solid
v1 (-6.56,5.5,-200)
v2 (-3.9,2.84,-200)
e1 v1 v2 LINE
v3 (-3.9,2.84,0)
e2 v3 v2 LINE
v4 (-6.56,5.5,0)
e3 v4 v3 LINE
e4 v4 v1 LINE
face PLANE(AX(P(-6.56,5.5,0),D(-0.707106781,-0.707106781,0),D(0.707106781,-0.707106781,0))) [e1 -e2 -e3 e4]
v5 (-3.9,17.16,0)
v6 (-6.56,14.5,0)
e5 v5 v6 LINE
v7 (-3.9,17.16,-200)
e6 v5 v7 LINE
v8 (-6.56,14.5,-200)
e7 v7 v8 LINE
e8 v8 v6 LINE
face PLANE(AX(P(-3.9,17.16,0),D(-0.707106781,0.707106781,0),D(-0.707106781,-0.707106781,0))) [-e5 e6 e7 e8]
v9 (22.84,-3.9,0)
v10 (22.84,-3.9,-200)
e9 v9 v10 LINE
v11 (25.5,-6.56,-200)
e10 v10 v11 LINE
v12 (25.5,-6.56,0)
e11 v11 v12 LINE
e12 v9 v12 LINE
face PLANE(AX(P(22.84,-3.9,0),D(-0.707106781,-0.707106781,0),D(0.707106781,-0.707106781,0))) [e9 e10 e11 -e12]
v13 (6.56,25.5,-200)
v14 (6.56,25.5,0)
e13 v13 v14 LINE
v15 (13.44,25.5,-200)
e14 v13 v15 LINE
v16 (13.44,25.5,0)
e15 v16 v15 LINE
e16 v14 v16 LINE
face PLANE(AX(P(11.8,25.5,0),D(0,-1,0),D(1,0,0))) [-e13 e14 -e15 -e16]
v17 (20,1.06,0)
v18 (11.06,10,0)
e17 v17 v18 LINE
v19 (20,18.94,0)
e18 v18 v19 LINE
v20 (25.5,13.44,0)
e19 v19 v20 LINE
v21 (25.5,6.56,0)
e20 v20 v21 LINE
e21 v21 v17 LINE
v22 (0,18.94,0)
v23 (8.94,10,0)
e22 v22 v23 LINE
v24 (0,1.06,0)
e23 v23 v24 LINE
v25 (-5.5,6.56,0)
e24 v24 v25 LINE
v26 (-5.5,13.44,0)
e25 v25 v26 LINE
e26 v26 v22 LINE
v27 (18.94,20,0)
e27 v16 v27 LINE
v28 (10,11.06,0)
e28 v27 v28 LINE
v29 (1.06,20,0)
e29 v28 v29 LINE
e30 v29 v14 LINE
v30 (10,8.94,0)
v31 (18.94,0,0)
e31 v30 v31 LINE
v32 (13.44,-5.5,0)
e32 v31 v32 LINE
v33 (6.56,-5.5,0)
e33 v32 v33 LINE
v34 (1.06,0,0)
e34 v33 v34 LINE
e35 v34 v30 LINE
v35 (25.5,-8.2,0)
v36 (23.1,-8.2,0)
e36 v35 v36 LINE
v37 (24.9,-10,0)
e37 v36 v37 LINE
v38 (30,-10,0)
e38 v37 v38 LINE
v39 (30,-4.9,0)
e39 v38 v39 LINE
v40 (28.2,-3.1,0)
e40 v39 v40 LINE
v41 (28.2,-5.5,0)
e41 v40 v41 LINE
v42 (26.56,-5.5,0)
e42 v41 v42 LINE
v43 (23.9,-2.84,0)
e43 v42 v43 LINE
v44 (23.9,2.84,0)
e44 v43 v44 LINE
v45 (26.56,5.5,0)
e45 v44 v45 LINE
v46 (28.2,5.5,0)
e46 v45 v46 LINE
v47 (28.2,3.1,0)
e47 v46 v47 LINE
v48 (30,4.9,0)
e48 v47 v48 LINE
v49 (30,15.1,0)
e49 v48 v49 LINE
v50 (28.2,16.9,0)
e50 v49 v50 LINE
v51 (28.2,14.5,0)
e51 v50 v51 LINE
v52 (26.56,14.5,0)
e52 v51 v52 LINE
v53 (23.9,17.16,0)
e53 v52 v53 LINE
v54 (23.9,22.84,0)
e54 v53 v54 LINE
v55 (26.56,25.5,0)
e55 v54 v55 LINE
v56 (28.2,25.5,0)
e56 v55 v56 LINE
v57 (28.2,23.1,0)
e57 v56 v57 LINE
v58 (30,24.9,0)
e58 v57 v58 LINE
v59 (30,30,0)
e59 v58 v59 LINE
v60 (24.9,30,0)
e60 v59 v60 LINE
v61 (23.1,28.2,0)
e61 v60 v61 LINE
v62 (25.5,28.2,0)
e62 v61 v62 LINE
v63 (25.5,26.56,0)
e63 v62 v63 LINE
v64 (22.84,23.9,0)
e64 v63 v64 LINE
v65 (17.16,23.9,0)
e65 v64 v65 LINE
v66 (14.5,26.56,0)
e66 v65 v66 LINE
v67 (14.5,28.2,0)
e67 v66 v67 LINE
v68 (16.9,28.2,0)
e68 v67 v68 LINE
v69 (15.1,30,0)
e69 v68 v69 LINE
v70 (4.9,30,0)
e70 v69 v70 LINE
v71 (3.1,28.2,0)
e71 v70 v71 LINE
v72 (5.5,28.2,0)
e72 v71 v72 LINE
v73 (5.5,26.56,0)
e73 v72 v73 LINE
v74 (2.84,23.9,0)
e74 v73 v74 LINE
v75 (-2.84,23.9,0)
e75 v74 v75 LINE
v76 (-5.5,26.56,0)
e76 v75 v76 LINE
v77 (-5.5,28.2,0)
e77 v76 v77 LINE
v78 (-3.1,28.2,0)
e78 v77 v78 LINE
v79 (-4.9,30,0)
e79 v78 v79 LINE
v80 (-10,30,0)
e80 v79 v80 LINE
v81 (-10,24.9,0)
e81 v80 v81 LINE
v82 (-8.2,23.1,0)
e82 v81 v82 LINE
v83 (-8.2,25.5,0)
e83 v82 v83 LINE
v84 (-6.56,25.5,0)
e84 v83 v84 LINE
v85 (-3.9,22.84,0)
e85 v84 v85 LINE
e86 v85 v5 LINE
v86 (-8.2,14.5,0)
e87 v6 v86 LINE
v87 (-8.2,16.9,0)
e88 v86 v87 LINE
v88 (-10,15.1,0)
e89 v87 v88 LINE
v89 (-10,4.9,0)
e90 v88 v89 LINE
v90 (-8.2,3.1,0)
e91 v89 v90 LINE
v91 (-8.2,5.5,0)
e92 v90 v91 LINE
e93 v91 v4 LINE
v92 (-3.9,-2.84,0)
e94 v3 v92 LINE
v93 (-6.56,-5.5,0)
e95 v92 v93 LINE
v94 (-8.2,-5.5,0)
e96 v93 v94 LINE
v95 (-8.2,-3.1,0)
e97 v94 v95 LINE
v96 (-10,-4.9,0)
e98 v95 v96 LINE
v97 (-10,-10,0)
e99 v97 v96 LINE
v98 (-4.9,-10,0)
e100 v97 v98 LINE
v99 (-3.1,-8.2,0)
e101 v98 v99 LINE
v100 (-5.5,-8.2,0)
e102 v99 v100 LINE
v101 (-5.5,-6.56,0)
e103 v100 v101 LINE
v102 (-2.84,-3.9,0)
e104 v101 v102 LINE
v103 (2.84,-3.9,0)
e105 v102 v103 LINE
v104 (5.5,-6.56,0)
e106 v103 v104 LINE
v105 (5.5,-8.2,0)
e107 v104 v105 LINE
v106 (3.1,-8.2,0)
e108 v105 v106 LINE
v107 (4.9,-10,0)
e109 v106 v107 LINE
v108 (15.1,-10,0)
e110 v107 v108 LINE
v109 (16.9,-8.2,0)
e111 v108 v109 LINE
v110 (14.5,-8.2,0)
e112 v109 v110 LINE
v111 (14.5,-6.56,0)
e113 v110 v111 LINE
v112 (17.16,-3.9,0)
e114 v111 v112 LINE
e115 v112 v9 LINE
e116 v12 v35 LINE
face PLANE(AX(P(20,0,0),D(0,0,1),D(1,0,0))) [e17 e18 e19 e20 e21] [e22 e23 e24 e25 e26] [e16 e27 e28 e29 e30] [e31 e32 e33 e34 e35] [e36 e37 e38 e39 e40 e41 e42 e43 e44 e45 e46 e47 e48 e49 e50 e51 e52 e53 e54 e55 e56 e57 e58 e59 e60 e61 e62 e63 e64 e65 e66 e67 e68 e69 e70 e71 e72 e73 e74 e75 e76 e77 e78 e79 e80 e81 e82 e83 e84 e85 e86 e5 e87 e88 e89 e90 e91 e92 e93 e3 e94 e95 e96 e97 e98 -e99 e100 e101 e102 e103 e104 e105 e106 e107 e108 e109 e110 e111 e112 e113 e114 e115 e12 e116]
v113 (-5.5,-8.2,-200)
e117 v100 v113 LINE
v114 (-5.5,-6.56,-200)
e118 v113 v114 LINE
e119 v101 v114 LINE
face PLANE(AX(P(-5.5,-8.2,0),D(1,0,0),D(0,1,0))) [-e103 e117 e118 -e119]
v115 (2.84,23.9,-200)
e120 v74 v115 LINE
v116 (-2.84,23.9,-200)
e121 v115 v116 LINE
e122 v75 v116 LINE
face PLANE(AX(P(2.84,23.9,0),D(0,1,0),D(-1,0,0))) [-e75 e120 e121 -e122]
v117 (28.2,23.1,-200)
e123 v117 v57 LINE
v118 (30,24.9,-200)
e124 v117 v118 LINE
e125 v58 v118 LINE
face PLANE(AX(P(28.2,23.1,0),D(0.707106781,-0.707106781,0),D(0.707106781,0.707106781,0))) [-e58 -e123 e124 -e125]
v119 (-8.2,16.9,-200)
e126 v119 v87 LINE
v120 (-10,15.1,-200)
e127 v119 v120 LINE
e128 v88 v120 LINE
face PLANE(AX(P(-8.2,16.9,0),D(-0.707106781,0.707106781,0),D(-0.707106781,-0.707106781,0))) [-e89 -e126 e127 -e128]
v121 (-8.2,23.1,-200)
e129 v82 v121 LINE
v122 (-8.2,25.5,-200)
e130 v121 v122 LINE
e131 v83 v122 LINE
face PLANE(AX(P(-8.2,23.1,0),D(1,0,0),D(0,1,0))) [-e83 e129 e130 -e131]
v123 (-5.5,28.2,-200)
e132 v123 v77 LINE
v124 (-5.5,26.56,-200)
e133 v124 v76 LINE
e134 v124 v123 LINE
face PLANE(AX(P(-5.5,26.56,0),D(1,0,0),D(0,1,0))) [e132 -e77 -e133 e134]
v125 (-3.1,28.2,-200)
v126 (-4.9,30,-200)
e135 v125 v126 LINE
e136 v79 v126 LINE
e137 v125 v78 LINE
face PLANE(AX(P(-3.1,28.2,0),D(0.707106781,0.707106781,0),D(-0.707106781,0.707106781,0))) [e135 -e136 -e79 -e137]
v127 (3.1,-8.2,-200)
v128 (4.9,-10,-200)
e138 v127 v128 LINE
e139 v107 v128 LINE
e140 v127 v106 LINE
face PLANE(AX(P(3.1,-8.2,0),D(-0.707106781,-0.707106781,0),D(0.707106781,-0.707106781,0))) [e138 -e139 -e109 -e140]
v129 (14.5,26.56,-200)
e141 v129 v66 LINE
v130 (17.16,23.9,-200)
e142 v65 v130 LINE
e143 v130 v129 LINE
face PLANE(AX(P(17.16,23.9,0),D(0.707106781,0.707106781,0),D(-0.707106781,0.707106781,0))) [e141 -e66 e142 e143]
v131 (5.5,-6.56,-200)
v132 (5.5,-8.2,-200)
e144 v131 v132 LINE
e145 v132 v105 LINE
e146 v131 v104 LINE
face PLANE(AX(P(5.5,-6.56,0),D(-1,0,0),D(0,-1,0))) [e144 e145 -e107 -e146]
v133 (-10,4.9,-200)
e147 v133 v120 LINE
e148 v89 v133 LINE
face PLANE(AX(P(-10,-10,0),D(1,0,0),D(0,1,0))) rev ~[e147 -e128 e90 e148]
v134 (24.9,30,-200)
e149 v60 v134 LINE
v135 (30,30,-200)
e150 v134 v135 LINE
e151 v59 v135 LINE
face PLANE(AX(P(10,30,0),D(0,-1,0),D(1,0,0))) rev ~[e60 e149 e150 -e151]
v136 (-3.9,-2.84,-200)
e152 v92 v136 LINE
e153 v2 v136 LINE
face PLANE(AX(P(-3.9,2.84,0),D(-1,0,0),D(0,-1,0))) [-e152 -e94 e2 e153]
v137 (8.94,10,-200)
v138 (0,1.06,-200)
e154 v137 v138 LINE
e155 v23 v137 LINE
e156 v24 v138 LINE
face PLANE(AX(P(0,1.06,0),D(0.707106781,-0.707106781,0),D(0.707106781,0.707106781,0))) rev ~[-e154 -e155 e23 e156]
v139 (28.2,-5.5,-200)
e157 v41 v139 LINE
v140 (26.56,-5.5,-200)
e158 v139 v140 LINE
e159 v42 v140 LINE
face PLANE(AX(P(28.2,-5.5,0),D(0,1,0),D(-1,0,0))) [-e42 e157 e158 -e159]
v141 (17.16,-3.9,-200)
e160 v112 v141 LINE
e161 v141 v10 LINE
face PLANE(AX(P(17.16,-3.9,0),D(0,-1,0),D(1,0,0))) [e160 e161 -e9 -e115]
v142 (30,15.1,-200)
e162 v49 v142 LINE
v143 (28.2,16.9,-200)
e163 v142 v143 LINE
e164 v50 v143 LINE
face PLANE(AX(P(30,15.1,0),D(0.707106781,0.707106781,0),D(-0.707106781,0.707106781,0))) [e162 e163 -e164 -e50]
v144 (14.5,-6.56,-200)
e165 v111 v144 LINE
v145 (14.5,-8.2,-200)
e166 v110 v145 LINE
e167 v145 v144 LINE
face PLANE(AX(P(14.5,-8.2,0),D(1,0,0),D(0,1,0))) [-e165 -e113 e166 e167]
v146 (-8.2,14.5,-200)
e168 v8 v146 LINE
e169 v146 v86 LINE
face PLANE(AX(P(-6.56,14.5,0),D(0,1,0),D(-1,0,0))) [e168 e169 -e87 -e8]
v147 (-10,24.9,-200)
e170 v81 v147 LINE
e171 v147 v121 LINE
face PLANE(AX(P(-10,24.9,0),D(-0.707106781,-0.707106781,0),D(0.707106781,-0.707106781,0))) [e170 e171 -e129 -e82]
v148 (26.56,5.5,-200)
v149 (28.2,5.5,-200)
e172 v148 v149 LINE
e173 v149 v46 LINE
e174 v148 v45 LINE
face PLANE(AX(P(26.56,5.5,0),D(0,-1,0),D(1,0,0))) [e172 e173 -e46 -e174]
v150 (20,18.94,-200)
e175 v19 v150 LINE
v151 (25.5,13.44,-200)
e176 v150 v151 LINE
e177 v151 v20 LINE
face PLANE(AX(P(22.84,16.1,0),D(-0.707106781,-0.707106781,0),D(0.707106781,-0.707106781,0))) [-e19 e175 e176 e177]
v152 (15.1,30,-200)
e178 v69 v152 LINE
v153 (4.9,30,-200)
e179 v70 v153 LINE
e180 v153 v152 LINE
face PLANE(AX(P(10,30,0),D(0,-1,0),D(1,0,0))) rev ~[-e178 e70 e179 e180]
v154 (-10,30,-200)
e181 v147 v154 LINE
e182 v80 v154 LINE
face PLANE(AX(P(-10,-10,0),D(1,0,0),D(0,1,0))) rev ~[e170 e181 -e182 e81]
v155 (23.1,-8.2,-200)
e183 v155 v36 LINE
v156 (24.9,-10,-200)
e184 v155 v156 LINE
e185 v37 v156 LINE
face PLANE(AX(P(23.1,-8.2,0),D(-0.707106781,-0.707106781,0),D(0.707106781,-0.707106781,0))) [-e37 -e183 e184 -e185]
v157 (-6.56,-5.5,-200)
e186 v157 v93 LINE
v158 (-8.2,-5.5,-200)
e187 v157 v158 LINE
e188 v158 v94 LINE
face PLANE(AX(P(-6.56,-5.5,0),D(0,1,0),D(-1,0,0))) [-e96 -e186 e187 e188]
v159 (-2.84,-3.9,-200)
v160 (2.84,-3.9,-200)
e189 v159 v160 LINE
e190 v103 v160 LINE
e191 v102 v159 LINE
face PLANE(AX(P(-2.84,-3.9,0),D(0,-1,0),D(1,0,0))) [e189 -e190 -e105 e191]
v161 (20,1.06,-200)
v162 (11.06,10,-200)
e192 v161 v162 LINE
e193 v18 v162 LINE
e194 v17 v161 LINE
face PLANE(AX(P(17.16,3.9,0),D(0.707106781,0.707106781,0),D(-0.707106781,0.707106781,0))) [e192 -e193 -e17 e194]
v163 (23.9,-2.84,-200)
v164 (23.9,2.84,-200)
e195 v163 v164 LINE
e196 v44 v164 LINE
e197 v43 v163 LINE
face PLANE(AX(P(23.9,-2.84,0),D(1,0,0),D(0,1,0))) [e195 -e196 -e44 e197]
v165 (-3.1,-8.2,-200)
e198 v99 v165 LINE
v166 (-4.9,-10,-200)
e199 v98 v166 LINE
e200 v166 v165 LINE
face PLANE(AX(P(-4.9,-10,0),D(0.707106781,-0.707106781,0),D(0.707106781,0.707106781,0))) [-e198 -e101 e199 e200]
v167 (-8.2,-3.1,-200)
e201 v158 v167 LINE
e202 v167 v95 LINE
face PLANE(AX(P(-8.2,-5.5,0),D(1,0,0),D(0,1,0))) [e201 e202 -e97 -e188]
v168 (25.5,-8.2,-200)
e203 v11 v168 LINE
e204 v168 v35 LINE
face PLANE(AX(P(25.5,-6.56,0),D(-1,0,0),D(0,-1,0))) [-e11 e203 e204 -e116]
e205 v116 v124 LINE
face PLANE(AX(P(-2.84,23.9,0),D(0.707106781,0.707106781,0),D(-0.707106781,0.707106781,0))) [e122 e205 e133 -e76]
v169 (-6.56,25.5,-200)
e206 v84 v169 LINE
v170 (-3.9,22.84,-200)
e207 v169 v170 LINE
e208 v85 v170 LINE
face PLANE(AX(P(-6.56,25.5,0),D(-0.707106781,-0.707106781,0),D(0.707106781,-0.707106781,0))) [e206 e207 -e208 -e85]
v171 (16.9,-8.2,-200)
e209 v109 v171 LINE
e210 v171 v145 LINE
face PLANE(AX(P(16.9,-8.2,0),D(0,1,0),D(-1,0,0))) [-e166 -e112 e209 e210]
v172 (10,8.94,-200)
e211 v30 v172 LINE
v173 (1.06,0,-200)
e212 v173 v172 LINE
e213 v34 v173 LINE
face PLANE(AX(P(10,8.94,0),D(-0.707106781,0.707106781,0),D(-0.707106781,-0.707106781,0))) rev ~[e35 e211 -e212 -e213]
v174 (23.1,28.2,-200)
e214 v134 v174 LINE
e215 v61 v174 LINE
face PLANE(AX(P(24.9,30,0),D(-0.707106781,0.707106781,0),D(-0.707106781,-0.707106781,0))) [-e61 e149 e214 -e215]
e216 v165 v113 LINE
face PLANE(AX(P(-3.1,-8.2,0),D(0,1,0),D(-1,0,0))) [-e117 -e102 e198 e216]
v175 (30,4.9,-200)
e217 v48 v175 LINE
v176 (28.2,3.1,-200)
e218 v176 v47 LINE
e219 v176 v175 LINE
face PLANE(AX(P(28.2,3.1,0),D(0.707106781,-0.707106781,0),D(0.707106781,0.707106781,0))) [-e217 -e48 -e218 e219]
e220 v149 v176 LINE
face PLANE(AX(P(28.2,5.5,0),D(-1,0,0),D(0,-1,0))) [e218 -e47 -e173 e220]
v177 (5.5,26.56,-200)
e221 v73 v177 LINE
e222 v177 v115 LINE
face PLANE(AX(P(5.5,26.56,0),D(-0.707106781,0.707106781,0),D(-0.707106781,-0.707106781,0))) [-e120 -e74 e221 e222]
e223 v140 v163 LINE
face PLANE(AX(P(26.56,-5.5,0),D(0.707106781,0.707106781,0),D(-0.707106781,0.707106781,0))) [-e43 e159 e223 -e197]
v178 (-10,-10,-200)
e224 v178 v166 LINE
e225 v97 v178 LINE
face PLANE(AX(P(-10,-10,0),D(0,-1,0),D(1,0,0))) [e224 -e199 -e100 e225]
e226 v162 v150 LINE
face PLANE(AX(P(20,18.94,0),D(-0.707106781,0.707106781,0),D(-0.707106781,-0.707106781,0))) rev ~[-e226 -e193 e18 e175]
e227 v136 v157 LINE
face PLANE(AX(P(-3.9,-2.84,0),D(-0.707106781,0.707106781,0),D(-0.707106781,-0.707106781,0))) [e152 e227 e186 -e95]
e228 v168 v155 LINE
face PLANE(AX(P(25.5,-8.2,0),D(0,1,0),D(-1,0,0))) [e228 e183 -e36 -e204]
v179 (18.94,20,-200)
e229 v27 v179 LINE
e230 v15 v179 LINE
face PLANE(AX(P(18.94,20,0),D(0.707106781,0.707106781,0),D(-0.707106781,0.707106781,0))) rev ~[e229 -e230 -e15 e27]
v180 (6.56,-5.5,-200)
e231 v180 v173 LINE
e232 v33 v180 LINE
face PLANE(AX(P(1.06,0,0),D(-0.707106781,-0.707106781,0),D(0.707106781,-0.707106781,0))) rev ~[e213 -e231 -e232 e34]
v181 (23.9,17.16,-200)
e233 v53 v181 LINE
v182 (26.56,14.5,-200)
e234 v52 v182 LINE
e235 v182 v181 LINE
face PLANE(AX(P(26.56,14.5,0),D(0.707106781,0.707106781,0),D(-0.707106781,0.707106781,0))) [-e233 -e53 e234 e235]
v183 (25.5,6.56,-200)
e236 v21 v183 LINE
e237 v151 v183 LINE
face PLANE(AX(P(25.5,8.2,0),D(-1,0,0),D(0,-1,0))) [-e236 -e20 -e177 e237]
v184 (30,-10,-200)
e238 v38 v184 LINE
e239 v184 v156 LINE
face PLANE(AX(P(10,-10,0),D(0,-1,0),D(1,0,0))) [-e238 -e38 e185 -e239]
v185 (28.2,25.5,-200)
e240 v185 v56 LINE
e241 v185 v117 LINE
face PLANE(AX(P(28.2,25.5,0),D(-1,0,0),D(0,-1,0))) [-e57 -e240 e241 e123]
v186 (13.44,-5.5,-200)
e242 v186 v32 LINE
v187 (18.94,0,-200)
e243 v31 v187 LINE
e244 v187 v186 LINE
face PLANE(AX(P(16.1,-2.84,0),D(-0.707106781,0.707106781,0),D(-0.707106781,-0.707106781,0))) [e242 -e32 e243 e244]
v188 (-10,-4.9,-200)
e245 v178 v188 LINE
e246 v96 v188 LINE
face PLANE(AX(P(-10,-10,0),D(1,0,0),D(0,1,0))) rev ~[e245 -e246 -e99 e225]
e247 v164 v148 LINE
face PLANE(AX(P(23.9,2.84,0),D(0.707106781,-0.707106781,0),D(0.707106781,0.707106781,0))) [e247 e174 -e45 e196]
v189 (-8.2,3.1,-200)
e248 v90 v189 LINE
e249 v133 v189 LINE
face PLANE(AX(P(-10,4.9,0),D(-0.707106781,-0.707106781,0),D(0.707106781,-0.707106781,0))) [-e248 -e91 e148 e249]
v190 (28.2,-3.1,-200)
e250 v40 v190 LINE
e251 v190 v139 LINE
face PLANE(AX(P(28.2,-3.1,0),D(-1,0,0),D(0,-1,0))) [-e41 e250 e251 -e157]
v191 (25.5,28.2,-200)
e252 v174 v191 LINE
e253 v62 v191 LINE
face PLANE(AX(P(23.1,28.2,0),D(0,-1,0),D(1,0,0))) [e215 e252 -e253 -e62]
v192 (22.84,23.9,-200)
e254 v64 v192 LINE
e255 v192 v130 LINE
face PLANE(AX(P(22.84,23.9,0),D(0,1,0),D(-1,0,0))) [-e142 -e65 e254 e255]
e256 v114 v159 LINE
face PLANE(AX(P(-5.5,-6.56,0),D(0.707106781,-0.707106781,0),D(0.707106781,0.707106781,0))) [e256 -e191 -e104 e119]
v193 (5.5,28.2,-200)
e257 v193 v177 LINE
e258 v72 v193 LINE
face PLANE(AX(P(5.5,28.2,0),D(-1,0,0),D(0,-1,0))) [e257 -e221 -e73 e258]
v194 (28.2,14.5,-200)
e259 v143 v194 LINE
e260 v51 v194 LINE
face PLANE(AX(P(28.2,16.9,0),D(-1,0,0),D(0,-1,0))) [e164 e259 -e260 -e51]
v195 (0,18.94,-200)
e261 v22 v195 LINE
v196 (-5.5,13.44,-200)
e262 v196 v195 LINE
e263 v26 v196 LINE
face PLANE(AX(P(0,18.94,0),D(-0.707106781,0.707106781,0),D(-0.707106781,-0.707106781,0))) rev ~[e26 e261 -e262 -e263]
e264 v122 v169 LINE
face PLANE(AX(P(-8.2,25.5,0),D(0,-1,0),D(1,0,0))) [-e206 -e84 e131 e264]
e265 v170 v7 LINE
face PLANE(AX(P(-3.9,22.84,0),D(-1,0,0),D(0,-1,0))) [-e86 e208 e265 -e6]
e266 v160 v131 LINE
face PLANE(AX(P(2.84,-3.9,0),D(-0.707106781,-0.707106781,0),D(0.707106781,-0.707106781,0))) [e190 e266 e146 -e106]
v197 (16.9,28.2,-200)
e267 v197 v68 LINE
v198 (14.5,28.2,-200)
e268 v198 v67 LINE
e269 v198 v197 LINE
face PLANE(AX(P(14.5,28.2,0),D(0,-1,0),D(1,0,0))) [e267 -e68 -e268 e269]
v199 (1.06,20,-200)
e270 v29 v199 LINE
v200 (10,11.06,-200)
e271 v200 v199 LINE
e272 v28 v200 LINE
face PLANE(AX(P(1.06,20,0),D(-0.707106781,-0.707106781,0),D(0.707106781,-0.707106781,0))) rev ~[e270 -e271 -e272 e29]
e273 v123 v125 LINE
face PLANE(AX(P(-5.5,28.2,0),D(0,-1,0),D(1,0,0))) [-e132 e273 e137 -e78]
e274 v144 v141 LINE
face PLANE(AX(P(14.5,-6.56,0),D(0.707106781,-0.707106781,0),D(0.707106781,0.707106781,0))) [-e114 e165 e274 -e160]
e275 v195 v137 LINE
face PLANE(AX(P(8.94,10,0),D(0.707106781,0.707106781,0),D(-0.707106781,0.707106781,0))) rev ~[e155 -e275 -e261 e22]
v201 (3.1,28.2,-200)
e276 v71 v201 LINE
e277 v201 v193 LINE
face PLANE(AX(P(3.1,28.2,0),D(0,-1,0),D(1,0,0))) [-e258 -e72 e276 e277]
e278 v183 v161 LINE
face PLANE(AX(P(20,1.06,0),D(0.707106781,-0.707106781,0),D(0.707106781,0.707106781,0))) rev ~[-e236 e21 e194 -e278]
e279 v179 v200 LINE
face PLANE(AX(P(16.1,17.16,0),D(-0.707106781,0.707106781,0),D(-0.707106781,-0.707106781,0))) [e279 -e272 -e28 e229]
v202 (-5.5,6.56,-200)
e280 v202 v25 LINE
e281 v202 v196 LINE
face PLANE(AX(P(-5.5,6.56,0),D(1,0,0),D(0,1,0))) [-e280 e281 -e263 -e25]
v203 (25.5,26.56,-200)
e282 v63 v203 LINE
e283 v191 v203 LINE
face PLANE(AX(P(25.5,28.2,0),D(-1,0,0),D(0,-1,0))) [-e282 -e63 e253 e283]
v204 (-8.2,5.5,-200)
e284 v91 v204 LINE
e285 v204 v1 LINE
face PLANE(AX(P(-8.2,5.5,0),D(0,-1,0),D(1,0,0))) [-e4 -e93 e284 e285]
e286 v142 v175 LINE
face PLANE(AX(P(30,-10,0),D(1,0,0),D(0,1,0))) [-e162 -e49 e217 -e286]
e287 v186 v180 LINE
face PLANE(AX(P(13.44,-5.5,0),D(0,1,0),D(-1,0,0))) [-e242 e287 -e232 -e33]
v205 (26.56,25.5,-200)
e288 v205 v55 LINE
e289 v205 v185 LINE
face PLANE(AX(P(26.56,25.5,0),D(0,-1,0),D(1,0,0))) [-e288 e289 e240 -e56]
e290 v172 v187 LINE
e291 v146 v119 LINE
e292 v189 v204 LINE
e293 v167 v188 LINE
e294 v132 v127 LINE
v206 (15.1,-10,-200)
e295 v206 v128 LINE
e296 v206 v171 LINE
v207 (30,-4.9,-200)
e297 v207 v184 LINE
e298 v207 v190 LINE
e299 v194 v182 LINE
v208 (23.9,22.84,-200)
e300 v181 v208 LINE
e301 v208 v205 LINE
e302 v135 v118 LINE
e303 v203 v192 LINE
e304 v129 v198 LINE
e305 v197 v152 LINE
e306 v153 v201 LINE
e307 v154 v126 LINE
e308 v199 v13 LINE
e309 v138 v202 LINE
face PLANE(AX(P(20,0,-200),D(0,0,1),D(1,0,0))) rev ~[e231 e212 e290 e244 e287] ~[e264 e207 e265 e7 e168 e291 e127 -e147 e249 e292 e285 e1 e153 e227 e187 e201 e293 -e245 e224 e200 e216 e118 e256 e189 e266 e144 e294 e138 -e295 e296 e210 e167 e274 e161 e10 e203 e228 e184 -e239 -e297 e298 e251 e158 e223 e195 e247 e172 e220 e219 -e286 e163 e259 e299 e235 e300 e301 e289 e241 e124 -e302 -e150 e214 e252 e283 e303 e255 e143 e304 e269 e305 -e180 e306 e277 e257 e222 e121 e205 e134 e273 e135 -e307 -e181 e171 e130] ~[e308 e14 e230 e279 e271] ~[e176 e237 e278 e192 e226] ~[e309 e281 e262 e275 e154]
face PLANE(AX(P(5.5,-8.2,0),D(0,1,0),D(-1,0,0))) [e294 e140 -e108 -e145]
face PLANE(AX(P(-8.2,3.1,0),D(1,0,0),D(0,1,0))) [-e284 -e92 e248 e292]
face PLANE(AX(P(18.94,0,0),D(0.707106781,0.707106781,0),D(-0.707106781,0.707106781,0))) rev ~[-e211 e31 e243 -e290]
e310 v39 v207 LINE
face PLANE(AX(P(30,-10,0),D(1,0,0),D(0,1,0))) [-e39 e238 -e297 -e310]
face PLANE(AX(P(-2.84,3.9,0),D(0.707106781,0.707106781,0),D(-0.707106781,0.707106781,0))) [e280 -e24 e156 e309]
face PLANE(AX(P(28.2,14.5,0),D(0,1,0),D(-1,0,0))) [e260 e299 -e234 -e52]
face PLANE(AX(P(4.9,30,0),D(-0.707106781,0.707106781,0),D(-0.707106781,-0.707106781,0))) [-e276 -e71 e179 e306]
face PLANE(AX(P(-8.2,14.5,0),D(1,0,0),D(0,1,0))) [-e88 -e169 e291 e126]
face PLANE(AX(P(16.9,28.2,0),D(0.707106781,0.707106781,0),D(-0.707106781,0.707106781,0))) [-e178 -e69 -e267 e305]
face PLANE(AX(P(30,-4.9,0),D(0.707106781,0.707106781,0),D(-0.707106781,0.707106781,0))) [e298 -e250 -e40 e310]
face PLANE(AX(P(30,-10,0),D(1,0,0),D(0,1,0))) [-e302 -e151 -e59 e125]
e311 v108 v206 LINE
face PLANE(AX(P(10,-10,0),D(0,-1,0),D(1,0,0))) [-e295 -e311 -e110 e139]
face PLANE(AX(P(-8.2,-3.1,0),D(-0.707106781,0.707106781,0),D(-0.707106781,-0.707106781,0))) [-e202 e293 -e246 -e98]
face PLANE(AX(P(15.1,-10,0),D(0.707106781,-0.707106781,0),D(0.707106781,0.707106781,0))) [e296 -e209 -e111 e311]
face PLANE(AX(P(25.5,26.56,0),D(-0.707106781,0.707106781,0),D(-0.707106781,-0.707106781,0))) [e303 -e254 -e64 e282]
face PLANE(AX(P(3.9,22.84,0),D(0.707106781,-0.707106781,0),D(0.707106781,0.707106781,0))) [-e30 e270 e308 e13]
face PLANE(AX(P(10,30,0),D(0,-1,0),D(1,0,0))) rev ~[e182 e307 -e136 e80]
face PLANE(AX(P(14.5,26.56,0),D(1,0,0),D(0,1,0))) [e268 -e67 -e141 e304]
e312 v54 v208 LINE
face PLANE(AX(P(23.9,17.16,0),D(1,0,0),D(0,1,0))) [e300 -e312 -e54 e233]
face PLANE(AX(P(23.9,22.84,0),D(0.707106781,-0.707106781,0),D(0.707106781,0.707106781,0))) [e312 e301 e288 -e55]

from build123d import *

# Parameters (mm, degrees)
SKETCH2_W              = 20
SKETCH2_H              = 20
BOSS_EXTRUDE1_DEPTH    = 200
CUT_EXTRUDE1_DEPTH     = 201.499376558
CIRPATTERN2_COUNT      = 4
LPATTERN1_COUNT        = 2
LPATTERN1_PITCH        = 20
LPATTERN1_COUNT_DIR2   = 2
LPATTERN1_PITCH_DIR2   = 20
LPATTERN1_COPY_1_DEPTH = 201.499376558
LPATTERN1_COPY_2_DEPTH = 201.499376558
LPATTERN1_COPY_3_DEPTH = 201.499376558
LPATTERN1_COPY_4_DEPTH = 201.499376558
LPATTERN1_COPY_5_DEPTH = 201.499376558
LPATTERN1_COPY_6_DEPTH = 201.499376558
LPATTERN1_COPY_7_DEPTH = 201.499376558
LPATTERN1_COPY_8_DEPTH = 201.499376558
LPATTERN1_COPY_9_DEPTH = 201.499376558
CUT_EXTRUDE2_DEPTH     = 205.450483003


with BuildPart() as part:
    # Sketch2 → Boss-Extrude1 (new body)
    with BuildSketch(Plane.XY):
        Rectangle(SKETCH2_W, SKETCH2_H)
    boss_extrude1 = extrude(amount=-BOSS_EXTRUDE1_DEPTH)

    # Sketch3 → Cut-Extrude1 (cut, symmetric)
    with BuildSketch(Plane.XY):
        Polygon((-3.1, 8.2), (-4.9, 10), (4.9, 10), (3.1, 8.2), (5.5, 8.2), (5.5, 6.56), (2.84, 3.9), (-2.84, 3.9), (-5.5, 6.56), (-5.5, 8.2), align=None)
    cut_extrude1 = extrude(amount=CUT_EXTRUDE1_DEPTH, both=True, mode=Mode.SUBTRACT)

    # CirPattern2: Cut-Extrude1 ×4 about axis
    cirpattern2_axis = Axis((0, 0, 0), (0, 0, 1))
    for i in range(1, CIRPATTERN2_COUNT):
        add(cut_extrude1.rotate(cirpattern2_axis, i * 360 / CIRPATTERN2_COUNT), mode=Mode.SUBTRACT)

    # LPattern1: Boss-Extrude1, Cut-Extrude1 2 × 2
    with Locations(*[(j * LPATTERN1_PITCH_DIR2, i * LPATTERN1_PITCH, 0) for i in range(LPATTERN1_COUNT) for j in range(LPATTERN1_COUNT_DIR2) if (i, j) != (0, 0)]):
        add(boss_extrude1)
        add(cut_extrude1, mode=Mode.SUBTRACT)

    # LPattern1 copy 1 sketch → LPattern1 copy 1 (cut, symmetric)
    with BuildSketch(Plane(origin=(20, 0, 0), x_dir=(0, 1, 0), z_dir=(0, 0, 1))):
        Polygon((-3.1, 8.2), (-4.9, 10), (4.9, 10), (3.1, 8.2), (5.5, 8.2), (5.5, 6.56), (2.84, 3.9), (-2.84, 3.9), (-5.5, 6.56), (-5.5, 8.2), align=None)
    extrude(amount=LPATTERN1_COPY_1_DEPTH, both=True, mode=Mode.SUBTRACT)

    # LPattern1 copy 2 sketch → LPattern1 copy 2 (cut, symmetric)
    with BuildSketch(Plane(origin=(0, 20, 0), x_dir=(0, 1, 0), z_dir=(0, 0, 1))):
        Polygon((-3.1, 8.2), (-4.9, 10), (4.9, 10), (3.1, 8.2), (5.5, 8.2), (5.5, 6.56), (2.84, 3.9), (-2.84, 3.9), (-5.5, 6.56), (-5.5, 8.2), align=None)
    extrude(amount=LPATTERN1_COPY_2_DEPTH, both=True, mode=Mode.SUBTRACT)

    # LPattern1 copy 3 sketch → LPattern1 copy 3 (cut, symmetric)
    with BuildSketch(Plane(origin=(20, 20, 0), x_dir=(0, 1, 0), z_dir=(0, 0, 1))):
        Polygon((-3.1, 8.2), (-4.9, 10), (4.9, 10), (3.1, 8.2), (5.5, 8.2), (5.5, 6.56), (2.84, 3.9), (-2.84, 3.9), (-5.5, 6.56), (-5.5, 8.2), align=None)
    extrude(amount=LPATTERN1_COPY_3_DEPTH, both=True, mode=Mode.SUBTRACT)

    # LPattern1 copy 4 sketch → LPattern1 copy 4 (cut, symmetric)
    with BuildSketch(Plane(origin=(20, 0, 0), x_dir=(-1, 0, 0), z_dir=(0, 0, 1))):
        Polygon((-3.1, 8.2), (-4.9, 10), (4.9, 10), (3.1, 8.2), (5.5, 8.2), (5.5, 6.56), (2.84, 3.9), (-2.84, 3.9), (-5.5, 6.56), (-5.5, 8.2), align=None)
    extrude(amount=LPATTERN1_COPY_4_DEPTH, both=True, mode=Mode.SUBTRACT)

    # LPattern1 copy 5 sketch → LPattern1 copy 5 (cut, symmetric)
    with BuildSketch(Plane(origin=(0, 20, 0), x_dir=(-1, 0, 0), z_dir=(0, 0, 1))):
        Polygon((-3.1, 8.2), (-4.9, 10), (4.9, 10), (3.1, 8.2), (5.5, 8.2), (5.5, 6.56), (2.84, 3.9), (-2.84, 3.9), (-5.5, 6.56), (-5.5, 8.2), align=None)
    extrude(amount=LPATTERN1_COPY_5_DEPTH, both=True, mode=Mode.SUBTRACT)

    # LPattern1 copy 6 sketch → LPattern1 copy 6 (cut, symmetric)
    with BuildSketch(Plane(origin=(20, 20, 0), x_dir=(-1, 0, 0), z_dir=(0, 0, 1))):
        Polygon((-3.1, 8.2), (-4.9, 10), (4.9, 10), (3.1, 8.2), (5.5, 8.2), (5.5, 6.56), (2.84, 3.9), (-2.84, 3.9), (-5.5, 6.56), (-5.5, 8.2), align=None)
    extrude(amount=LPATTERN1_COPY_6_DEPTH, both=True, mode=Mode.SUBTRACT)

    # LPattern1 copy 7 sketch → LPattern1 copy 7 (cut, symmetric)
    with BuildSketch(Plane(origin=(20, 0, 0), x_dir=(0, -1, 0), z_dir=(0, 0, 1))):
        Polygon((-3.1, 8.2), (-4.9, 10), (4.9, 10), (3.1, 8.2), (5.5, 8.2), (5.5, 6.56), (2.84, 3.9), (-2.84, 3.9), (-5.5, 6.56), (-5.5, 8.2), align=None)
    extrude(amount=LPATTERN1_COPY_7_DEPTH, both=True, mode=Mode.SUBTRACT)

    # LPattern1 copy 8 sketch → LPattern1 copy 8 (cut, symmetric)
    with BuildSketch(Plane(origin=(0, 20, 0), x_dir=(0, -1, 0), z_dir=(0, 0, 1))):
        Polygon((-3.1, 8.2), (-4.9, 10), (4.9, 10), (3.1, 8.2), (5.5, 8.2), (5.5, 6.56), (2.84, 3.9), (-2.84, 3.9), (-5.5, 6.56), (-5.5, 8.2), align=None)
    extrude(amount=LPATTERN1_COPY_8_DEPTH, both=True, mode=Mode.SUBTRACT)

    # LPattern1 copy 9 sketch → LPattern1 copy 9 (cut, symmetric)
    with BuildSketch(Plane(origin=(20, 20, 0), x_dir=(0, -1, 0), z_dir=(0, 0, 1))):
        Polygon((-3.1, 8.2), (-4.9, 10), (4.9, 10), (3.1, 8.2), (5.5, 8.2), (5.5, 6.56), (2.84, 3.9), (-2.84, 3.9), (-5.5, 6.56), (-5.5, 8.2), align=None)
    extrude(amount=LPATTERN1_COPY_9_DEPTH, both=True, mode=Mode.SUBTRACT)

    # Sketch9 → Cut-Extrude2 (cut, through all)
    with BuildSketch(Plane.XY):
        Polygon((1.06, 0), (6.56, -5.5), (13.44, -5.5), (18.94, 0), (10, 8.94), align=None)
        Polygon((20, 1.06), (25.5, 6.56), (25.5, 11.8), (25.5, 13.44), (20, 18.94), (11.06, 10), align=None)
        Polygon((0, 1.06), (8.94, 10), (0, 18.94), (-5.5, 13.44), (-5.5, 6.56), align=None)
        Polygon((1.06, 20), (10, 11.06), (18.94, 20), (13.44, 25.5), (6.56, 25.5), align=None)
    extrude(amount=-CUT_EXTRUDE2_DEPTH, mode=Mode.SUBTRACT)


solid = part.part
